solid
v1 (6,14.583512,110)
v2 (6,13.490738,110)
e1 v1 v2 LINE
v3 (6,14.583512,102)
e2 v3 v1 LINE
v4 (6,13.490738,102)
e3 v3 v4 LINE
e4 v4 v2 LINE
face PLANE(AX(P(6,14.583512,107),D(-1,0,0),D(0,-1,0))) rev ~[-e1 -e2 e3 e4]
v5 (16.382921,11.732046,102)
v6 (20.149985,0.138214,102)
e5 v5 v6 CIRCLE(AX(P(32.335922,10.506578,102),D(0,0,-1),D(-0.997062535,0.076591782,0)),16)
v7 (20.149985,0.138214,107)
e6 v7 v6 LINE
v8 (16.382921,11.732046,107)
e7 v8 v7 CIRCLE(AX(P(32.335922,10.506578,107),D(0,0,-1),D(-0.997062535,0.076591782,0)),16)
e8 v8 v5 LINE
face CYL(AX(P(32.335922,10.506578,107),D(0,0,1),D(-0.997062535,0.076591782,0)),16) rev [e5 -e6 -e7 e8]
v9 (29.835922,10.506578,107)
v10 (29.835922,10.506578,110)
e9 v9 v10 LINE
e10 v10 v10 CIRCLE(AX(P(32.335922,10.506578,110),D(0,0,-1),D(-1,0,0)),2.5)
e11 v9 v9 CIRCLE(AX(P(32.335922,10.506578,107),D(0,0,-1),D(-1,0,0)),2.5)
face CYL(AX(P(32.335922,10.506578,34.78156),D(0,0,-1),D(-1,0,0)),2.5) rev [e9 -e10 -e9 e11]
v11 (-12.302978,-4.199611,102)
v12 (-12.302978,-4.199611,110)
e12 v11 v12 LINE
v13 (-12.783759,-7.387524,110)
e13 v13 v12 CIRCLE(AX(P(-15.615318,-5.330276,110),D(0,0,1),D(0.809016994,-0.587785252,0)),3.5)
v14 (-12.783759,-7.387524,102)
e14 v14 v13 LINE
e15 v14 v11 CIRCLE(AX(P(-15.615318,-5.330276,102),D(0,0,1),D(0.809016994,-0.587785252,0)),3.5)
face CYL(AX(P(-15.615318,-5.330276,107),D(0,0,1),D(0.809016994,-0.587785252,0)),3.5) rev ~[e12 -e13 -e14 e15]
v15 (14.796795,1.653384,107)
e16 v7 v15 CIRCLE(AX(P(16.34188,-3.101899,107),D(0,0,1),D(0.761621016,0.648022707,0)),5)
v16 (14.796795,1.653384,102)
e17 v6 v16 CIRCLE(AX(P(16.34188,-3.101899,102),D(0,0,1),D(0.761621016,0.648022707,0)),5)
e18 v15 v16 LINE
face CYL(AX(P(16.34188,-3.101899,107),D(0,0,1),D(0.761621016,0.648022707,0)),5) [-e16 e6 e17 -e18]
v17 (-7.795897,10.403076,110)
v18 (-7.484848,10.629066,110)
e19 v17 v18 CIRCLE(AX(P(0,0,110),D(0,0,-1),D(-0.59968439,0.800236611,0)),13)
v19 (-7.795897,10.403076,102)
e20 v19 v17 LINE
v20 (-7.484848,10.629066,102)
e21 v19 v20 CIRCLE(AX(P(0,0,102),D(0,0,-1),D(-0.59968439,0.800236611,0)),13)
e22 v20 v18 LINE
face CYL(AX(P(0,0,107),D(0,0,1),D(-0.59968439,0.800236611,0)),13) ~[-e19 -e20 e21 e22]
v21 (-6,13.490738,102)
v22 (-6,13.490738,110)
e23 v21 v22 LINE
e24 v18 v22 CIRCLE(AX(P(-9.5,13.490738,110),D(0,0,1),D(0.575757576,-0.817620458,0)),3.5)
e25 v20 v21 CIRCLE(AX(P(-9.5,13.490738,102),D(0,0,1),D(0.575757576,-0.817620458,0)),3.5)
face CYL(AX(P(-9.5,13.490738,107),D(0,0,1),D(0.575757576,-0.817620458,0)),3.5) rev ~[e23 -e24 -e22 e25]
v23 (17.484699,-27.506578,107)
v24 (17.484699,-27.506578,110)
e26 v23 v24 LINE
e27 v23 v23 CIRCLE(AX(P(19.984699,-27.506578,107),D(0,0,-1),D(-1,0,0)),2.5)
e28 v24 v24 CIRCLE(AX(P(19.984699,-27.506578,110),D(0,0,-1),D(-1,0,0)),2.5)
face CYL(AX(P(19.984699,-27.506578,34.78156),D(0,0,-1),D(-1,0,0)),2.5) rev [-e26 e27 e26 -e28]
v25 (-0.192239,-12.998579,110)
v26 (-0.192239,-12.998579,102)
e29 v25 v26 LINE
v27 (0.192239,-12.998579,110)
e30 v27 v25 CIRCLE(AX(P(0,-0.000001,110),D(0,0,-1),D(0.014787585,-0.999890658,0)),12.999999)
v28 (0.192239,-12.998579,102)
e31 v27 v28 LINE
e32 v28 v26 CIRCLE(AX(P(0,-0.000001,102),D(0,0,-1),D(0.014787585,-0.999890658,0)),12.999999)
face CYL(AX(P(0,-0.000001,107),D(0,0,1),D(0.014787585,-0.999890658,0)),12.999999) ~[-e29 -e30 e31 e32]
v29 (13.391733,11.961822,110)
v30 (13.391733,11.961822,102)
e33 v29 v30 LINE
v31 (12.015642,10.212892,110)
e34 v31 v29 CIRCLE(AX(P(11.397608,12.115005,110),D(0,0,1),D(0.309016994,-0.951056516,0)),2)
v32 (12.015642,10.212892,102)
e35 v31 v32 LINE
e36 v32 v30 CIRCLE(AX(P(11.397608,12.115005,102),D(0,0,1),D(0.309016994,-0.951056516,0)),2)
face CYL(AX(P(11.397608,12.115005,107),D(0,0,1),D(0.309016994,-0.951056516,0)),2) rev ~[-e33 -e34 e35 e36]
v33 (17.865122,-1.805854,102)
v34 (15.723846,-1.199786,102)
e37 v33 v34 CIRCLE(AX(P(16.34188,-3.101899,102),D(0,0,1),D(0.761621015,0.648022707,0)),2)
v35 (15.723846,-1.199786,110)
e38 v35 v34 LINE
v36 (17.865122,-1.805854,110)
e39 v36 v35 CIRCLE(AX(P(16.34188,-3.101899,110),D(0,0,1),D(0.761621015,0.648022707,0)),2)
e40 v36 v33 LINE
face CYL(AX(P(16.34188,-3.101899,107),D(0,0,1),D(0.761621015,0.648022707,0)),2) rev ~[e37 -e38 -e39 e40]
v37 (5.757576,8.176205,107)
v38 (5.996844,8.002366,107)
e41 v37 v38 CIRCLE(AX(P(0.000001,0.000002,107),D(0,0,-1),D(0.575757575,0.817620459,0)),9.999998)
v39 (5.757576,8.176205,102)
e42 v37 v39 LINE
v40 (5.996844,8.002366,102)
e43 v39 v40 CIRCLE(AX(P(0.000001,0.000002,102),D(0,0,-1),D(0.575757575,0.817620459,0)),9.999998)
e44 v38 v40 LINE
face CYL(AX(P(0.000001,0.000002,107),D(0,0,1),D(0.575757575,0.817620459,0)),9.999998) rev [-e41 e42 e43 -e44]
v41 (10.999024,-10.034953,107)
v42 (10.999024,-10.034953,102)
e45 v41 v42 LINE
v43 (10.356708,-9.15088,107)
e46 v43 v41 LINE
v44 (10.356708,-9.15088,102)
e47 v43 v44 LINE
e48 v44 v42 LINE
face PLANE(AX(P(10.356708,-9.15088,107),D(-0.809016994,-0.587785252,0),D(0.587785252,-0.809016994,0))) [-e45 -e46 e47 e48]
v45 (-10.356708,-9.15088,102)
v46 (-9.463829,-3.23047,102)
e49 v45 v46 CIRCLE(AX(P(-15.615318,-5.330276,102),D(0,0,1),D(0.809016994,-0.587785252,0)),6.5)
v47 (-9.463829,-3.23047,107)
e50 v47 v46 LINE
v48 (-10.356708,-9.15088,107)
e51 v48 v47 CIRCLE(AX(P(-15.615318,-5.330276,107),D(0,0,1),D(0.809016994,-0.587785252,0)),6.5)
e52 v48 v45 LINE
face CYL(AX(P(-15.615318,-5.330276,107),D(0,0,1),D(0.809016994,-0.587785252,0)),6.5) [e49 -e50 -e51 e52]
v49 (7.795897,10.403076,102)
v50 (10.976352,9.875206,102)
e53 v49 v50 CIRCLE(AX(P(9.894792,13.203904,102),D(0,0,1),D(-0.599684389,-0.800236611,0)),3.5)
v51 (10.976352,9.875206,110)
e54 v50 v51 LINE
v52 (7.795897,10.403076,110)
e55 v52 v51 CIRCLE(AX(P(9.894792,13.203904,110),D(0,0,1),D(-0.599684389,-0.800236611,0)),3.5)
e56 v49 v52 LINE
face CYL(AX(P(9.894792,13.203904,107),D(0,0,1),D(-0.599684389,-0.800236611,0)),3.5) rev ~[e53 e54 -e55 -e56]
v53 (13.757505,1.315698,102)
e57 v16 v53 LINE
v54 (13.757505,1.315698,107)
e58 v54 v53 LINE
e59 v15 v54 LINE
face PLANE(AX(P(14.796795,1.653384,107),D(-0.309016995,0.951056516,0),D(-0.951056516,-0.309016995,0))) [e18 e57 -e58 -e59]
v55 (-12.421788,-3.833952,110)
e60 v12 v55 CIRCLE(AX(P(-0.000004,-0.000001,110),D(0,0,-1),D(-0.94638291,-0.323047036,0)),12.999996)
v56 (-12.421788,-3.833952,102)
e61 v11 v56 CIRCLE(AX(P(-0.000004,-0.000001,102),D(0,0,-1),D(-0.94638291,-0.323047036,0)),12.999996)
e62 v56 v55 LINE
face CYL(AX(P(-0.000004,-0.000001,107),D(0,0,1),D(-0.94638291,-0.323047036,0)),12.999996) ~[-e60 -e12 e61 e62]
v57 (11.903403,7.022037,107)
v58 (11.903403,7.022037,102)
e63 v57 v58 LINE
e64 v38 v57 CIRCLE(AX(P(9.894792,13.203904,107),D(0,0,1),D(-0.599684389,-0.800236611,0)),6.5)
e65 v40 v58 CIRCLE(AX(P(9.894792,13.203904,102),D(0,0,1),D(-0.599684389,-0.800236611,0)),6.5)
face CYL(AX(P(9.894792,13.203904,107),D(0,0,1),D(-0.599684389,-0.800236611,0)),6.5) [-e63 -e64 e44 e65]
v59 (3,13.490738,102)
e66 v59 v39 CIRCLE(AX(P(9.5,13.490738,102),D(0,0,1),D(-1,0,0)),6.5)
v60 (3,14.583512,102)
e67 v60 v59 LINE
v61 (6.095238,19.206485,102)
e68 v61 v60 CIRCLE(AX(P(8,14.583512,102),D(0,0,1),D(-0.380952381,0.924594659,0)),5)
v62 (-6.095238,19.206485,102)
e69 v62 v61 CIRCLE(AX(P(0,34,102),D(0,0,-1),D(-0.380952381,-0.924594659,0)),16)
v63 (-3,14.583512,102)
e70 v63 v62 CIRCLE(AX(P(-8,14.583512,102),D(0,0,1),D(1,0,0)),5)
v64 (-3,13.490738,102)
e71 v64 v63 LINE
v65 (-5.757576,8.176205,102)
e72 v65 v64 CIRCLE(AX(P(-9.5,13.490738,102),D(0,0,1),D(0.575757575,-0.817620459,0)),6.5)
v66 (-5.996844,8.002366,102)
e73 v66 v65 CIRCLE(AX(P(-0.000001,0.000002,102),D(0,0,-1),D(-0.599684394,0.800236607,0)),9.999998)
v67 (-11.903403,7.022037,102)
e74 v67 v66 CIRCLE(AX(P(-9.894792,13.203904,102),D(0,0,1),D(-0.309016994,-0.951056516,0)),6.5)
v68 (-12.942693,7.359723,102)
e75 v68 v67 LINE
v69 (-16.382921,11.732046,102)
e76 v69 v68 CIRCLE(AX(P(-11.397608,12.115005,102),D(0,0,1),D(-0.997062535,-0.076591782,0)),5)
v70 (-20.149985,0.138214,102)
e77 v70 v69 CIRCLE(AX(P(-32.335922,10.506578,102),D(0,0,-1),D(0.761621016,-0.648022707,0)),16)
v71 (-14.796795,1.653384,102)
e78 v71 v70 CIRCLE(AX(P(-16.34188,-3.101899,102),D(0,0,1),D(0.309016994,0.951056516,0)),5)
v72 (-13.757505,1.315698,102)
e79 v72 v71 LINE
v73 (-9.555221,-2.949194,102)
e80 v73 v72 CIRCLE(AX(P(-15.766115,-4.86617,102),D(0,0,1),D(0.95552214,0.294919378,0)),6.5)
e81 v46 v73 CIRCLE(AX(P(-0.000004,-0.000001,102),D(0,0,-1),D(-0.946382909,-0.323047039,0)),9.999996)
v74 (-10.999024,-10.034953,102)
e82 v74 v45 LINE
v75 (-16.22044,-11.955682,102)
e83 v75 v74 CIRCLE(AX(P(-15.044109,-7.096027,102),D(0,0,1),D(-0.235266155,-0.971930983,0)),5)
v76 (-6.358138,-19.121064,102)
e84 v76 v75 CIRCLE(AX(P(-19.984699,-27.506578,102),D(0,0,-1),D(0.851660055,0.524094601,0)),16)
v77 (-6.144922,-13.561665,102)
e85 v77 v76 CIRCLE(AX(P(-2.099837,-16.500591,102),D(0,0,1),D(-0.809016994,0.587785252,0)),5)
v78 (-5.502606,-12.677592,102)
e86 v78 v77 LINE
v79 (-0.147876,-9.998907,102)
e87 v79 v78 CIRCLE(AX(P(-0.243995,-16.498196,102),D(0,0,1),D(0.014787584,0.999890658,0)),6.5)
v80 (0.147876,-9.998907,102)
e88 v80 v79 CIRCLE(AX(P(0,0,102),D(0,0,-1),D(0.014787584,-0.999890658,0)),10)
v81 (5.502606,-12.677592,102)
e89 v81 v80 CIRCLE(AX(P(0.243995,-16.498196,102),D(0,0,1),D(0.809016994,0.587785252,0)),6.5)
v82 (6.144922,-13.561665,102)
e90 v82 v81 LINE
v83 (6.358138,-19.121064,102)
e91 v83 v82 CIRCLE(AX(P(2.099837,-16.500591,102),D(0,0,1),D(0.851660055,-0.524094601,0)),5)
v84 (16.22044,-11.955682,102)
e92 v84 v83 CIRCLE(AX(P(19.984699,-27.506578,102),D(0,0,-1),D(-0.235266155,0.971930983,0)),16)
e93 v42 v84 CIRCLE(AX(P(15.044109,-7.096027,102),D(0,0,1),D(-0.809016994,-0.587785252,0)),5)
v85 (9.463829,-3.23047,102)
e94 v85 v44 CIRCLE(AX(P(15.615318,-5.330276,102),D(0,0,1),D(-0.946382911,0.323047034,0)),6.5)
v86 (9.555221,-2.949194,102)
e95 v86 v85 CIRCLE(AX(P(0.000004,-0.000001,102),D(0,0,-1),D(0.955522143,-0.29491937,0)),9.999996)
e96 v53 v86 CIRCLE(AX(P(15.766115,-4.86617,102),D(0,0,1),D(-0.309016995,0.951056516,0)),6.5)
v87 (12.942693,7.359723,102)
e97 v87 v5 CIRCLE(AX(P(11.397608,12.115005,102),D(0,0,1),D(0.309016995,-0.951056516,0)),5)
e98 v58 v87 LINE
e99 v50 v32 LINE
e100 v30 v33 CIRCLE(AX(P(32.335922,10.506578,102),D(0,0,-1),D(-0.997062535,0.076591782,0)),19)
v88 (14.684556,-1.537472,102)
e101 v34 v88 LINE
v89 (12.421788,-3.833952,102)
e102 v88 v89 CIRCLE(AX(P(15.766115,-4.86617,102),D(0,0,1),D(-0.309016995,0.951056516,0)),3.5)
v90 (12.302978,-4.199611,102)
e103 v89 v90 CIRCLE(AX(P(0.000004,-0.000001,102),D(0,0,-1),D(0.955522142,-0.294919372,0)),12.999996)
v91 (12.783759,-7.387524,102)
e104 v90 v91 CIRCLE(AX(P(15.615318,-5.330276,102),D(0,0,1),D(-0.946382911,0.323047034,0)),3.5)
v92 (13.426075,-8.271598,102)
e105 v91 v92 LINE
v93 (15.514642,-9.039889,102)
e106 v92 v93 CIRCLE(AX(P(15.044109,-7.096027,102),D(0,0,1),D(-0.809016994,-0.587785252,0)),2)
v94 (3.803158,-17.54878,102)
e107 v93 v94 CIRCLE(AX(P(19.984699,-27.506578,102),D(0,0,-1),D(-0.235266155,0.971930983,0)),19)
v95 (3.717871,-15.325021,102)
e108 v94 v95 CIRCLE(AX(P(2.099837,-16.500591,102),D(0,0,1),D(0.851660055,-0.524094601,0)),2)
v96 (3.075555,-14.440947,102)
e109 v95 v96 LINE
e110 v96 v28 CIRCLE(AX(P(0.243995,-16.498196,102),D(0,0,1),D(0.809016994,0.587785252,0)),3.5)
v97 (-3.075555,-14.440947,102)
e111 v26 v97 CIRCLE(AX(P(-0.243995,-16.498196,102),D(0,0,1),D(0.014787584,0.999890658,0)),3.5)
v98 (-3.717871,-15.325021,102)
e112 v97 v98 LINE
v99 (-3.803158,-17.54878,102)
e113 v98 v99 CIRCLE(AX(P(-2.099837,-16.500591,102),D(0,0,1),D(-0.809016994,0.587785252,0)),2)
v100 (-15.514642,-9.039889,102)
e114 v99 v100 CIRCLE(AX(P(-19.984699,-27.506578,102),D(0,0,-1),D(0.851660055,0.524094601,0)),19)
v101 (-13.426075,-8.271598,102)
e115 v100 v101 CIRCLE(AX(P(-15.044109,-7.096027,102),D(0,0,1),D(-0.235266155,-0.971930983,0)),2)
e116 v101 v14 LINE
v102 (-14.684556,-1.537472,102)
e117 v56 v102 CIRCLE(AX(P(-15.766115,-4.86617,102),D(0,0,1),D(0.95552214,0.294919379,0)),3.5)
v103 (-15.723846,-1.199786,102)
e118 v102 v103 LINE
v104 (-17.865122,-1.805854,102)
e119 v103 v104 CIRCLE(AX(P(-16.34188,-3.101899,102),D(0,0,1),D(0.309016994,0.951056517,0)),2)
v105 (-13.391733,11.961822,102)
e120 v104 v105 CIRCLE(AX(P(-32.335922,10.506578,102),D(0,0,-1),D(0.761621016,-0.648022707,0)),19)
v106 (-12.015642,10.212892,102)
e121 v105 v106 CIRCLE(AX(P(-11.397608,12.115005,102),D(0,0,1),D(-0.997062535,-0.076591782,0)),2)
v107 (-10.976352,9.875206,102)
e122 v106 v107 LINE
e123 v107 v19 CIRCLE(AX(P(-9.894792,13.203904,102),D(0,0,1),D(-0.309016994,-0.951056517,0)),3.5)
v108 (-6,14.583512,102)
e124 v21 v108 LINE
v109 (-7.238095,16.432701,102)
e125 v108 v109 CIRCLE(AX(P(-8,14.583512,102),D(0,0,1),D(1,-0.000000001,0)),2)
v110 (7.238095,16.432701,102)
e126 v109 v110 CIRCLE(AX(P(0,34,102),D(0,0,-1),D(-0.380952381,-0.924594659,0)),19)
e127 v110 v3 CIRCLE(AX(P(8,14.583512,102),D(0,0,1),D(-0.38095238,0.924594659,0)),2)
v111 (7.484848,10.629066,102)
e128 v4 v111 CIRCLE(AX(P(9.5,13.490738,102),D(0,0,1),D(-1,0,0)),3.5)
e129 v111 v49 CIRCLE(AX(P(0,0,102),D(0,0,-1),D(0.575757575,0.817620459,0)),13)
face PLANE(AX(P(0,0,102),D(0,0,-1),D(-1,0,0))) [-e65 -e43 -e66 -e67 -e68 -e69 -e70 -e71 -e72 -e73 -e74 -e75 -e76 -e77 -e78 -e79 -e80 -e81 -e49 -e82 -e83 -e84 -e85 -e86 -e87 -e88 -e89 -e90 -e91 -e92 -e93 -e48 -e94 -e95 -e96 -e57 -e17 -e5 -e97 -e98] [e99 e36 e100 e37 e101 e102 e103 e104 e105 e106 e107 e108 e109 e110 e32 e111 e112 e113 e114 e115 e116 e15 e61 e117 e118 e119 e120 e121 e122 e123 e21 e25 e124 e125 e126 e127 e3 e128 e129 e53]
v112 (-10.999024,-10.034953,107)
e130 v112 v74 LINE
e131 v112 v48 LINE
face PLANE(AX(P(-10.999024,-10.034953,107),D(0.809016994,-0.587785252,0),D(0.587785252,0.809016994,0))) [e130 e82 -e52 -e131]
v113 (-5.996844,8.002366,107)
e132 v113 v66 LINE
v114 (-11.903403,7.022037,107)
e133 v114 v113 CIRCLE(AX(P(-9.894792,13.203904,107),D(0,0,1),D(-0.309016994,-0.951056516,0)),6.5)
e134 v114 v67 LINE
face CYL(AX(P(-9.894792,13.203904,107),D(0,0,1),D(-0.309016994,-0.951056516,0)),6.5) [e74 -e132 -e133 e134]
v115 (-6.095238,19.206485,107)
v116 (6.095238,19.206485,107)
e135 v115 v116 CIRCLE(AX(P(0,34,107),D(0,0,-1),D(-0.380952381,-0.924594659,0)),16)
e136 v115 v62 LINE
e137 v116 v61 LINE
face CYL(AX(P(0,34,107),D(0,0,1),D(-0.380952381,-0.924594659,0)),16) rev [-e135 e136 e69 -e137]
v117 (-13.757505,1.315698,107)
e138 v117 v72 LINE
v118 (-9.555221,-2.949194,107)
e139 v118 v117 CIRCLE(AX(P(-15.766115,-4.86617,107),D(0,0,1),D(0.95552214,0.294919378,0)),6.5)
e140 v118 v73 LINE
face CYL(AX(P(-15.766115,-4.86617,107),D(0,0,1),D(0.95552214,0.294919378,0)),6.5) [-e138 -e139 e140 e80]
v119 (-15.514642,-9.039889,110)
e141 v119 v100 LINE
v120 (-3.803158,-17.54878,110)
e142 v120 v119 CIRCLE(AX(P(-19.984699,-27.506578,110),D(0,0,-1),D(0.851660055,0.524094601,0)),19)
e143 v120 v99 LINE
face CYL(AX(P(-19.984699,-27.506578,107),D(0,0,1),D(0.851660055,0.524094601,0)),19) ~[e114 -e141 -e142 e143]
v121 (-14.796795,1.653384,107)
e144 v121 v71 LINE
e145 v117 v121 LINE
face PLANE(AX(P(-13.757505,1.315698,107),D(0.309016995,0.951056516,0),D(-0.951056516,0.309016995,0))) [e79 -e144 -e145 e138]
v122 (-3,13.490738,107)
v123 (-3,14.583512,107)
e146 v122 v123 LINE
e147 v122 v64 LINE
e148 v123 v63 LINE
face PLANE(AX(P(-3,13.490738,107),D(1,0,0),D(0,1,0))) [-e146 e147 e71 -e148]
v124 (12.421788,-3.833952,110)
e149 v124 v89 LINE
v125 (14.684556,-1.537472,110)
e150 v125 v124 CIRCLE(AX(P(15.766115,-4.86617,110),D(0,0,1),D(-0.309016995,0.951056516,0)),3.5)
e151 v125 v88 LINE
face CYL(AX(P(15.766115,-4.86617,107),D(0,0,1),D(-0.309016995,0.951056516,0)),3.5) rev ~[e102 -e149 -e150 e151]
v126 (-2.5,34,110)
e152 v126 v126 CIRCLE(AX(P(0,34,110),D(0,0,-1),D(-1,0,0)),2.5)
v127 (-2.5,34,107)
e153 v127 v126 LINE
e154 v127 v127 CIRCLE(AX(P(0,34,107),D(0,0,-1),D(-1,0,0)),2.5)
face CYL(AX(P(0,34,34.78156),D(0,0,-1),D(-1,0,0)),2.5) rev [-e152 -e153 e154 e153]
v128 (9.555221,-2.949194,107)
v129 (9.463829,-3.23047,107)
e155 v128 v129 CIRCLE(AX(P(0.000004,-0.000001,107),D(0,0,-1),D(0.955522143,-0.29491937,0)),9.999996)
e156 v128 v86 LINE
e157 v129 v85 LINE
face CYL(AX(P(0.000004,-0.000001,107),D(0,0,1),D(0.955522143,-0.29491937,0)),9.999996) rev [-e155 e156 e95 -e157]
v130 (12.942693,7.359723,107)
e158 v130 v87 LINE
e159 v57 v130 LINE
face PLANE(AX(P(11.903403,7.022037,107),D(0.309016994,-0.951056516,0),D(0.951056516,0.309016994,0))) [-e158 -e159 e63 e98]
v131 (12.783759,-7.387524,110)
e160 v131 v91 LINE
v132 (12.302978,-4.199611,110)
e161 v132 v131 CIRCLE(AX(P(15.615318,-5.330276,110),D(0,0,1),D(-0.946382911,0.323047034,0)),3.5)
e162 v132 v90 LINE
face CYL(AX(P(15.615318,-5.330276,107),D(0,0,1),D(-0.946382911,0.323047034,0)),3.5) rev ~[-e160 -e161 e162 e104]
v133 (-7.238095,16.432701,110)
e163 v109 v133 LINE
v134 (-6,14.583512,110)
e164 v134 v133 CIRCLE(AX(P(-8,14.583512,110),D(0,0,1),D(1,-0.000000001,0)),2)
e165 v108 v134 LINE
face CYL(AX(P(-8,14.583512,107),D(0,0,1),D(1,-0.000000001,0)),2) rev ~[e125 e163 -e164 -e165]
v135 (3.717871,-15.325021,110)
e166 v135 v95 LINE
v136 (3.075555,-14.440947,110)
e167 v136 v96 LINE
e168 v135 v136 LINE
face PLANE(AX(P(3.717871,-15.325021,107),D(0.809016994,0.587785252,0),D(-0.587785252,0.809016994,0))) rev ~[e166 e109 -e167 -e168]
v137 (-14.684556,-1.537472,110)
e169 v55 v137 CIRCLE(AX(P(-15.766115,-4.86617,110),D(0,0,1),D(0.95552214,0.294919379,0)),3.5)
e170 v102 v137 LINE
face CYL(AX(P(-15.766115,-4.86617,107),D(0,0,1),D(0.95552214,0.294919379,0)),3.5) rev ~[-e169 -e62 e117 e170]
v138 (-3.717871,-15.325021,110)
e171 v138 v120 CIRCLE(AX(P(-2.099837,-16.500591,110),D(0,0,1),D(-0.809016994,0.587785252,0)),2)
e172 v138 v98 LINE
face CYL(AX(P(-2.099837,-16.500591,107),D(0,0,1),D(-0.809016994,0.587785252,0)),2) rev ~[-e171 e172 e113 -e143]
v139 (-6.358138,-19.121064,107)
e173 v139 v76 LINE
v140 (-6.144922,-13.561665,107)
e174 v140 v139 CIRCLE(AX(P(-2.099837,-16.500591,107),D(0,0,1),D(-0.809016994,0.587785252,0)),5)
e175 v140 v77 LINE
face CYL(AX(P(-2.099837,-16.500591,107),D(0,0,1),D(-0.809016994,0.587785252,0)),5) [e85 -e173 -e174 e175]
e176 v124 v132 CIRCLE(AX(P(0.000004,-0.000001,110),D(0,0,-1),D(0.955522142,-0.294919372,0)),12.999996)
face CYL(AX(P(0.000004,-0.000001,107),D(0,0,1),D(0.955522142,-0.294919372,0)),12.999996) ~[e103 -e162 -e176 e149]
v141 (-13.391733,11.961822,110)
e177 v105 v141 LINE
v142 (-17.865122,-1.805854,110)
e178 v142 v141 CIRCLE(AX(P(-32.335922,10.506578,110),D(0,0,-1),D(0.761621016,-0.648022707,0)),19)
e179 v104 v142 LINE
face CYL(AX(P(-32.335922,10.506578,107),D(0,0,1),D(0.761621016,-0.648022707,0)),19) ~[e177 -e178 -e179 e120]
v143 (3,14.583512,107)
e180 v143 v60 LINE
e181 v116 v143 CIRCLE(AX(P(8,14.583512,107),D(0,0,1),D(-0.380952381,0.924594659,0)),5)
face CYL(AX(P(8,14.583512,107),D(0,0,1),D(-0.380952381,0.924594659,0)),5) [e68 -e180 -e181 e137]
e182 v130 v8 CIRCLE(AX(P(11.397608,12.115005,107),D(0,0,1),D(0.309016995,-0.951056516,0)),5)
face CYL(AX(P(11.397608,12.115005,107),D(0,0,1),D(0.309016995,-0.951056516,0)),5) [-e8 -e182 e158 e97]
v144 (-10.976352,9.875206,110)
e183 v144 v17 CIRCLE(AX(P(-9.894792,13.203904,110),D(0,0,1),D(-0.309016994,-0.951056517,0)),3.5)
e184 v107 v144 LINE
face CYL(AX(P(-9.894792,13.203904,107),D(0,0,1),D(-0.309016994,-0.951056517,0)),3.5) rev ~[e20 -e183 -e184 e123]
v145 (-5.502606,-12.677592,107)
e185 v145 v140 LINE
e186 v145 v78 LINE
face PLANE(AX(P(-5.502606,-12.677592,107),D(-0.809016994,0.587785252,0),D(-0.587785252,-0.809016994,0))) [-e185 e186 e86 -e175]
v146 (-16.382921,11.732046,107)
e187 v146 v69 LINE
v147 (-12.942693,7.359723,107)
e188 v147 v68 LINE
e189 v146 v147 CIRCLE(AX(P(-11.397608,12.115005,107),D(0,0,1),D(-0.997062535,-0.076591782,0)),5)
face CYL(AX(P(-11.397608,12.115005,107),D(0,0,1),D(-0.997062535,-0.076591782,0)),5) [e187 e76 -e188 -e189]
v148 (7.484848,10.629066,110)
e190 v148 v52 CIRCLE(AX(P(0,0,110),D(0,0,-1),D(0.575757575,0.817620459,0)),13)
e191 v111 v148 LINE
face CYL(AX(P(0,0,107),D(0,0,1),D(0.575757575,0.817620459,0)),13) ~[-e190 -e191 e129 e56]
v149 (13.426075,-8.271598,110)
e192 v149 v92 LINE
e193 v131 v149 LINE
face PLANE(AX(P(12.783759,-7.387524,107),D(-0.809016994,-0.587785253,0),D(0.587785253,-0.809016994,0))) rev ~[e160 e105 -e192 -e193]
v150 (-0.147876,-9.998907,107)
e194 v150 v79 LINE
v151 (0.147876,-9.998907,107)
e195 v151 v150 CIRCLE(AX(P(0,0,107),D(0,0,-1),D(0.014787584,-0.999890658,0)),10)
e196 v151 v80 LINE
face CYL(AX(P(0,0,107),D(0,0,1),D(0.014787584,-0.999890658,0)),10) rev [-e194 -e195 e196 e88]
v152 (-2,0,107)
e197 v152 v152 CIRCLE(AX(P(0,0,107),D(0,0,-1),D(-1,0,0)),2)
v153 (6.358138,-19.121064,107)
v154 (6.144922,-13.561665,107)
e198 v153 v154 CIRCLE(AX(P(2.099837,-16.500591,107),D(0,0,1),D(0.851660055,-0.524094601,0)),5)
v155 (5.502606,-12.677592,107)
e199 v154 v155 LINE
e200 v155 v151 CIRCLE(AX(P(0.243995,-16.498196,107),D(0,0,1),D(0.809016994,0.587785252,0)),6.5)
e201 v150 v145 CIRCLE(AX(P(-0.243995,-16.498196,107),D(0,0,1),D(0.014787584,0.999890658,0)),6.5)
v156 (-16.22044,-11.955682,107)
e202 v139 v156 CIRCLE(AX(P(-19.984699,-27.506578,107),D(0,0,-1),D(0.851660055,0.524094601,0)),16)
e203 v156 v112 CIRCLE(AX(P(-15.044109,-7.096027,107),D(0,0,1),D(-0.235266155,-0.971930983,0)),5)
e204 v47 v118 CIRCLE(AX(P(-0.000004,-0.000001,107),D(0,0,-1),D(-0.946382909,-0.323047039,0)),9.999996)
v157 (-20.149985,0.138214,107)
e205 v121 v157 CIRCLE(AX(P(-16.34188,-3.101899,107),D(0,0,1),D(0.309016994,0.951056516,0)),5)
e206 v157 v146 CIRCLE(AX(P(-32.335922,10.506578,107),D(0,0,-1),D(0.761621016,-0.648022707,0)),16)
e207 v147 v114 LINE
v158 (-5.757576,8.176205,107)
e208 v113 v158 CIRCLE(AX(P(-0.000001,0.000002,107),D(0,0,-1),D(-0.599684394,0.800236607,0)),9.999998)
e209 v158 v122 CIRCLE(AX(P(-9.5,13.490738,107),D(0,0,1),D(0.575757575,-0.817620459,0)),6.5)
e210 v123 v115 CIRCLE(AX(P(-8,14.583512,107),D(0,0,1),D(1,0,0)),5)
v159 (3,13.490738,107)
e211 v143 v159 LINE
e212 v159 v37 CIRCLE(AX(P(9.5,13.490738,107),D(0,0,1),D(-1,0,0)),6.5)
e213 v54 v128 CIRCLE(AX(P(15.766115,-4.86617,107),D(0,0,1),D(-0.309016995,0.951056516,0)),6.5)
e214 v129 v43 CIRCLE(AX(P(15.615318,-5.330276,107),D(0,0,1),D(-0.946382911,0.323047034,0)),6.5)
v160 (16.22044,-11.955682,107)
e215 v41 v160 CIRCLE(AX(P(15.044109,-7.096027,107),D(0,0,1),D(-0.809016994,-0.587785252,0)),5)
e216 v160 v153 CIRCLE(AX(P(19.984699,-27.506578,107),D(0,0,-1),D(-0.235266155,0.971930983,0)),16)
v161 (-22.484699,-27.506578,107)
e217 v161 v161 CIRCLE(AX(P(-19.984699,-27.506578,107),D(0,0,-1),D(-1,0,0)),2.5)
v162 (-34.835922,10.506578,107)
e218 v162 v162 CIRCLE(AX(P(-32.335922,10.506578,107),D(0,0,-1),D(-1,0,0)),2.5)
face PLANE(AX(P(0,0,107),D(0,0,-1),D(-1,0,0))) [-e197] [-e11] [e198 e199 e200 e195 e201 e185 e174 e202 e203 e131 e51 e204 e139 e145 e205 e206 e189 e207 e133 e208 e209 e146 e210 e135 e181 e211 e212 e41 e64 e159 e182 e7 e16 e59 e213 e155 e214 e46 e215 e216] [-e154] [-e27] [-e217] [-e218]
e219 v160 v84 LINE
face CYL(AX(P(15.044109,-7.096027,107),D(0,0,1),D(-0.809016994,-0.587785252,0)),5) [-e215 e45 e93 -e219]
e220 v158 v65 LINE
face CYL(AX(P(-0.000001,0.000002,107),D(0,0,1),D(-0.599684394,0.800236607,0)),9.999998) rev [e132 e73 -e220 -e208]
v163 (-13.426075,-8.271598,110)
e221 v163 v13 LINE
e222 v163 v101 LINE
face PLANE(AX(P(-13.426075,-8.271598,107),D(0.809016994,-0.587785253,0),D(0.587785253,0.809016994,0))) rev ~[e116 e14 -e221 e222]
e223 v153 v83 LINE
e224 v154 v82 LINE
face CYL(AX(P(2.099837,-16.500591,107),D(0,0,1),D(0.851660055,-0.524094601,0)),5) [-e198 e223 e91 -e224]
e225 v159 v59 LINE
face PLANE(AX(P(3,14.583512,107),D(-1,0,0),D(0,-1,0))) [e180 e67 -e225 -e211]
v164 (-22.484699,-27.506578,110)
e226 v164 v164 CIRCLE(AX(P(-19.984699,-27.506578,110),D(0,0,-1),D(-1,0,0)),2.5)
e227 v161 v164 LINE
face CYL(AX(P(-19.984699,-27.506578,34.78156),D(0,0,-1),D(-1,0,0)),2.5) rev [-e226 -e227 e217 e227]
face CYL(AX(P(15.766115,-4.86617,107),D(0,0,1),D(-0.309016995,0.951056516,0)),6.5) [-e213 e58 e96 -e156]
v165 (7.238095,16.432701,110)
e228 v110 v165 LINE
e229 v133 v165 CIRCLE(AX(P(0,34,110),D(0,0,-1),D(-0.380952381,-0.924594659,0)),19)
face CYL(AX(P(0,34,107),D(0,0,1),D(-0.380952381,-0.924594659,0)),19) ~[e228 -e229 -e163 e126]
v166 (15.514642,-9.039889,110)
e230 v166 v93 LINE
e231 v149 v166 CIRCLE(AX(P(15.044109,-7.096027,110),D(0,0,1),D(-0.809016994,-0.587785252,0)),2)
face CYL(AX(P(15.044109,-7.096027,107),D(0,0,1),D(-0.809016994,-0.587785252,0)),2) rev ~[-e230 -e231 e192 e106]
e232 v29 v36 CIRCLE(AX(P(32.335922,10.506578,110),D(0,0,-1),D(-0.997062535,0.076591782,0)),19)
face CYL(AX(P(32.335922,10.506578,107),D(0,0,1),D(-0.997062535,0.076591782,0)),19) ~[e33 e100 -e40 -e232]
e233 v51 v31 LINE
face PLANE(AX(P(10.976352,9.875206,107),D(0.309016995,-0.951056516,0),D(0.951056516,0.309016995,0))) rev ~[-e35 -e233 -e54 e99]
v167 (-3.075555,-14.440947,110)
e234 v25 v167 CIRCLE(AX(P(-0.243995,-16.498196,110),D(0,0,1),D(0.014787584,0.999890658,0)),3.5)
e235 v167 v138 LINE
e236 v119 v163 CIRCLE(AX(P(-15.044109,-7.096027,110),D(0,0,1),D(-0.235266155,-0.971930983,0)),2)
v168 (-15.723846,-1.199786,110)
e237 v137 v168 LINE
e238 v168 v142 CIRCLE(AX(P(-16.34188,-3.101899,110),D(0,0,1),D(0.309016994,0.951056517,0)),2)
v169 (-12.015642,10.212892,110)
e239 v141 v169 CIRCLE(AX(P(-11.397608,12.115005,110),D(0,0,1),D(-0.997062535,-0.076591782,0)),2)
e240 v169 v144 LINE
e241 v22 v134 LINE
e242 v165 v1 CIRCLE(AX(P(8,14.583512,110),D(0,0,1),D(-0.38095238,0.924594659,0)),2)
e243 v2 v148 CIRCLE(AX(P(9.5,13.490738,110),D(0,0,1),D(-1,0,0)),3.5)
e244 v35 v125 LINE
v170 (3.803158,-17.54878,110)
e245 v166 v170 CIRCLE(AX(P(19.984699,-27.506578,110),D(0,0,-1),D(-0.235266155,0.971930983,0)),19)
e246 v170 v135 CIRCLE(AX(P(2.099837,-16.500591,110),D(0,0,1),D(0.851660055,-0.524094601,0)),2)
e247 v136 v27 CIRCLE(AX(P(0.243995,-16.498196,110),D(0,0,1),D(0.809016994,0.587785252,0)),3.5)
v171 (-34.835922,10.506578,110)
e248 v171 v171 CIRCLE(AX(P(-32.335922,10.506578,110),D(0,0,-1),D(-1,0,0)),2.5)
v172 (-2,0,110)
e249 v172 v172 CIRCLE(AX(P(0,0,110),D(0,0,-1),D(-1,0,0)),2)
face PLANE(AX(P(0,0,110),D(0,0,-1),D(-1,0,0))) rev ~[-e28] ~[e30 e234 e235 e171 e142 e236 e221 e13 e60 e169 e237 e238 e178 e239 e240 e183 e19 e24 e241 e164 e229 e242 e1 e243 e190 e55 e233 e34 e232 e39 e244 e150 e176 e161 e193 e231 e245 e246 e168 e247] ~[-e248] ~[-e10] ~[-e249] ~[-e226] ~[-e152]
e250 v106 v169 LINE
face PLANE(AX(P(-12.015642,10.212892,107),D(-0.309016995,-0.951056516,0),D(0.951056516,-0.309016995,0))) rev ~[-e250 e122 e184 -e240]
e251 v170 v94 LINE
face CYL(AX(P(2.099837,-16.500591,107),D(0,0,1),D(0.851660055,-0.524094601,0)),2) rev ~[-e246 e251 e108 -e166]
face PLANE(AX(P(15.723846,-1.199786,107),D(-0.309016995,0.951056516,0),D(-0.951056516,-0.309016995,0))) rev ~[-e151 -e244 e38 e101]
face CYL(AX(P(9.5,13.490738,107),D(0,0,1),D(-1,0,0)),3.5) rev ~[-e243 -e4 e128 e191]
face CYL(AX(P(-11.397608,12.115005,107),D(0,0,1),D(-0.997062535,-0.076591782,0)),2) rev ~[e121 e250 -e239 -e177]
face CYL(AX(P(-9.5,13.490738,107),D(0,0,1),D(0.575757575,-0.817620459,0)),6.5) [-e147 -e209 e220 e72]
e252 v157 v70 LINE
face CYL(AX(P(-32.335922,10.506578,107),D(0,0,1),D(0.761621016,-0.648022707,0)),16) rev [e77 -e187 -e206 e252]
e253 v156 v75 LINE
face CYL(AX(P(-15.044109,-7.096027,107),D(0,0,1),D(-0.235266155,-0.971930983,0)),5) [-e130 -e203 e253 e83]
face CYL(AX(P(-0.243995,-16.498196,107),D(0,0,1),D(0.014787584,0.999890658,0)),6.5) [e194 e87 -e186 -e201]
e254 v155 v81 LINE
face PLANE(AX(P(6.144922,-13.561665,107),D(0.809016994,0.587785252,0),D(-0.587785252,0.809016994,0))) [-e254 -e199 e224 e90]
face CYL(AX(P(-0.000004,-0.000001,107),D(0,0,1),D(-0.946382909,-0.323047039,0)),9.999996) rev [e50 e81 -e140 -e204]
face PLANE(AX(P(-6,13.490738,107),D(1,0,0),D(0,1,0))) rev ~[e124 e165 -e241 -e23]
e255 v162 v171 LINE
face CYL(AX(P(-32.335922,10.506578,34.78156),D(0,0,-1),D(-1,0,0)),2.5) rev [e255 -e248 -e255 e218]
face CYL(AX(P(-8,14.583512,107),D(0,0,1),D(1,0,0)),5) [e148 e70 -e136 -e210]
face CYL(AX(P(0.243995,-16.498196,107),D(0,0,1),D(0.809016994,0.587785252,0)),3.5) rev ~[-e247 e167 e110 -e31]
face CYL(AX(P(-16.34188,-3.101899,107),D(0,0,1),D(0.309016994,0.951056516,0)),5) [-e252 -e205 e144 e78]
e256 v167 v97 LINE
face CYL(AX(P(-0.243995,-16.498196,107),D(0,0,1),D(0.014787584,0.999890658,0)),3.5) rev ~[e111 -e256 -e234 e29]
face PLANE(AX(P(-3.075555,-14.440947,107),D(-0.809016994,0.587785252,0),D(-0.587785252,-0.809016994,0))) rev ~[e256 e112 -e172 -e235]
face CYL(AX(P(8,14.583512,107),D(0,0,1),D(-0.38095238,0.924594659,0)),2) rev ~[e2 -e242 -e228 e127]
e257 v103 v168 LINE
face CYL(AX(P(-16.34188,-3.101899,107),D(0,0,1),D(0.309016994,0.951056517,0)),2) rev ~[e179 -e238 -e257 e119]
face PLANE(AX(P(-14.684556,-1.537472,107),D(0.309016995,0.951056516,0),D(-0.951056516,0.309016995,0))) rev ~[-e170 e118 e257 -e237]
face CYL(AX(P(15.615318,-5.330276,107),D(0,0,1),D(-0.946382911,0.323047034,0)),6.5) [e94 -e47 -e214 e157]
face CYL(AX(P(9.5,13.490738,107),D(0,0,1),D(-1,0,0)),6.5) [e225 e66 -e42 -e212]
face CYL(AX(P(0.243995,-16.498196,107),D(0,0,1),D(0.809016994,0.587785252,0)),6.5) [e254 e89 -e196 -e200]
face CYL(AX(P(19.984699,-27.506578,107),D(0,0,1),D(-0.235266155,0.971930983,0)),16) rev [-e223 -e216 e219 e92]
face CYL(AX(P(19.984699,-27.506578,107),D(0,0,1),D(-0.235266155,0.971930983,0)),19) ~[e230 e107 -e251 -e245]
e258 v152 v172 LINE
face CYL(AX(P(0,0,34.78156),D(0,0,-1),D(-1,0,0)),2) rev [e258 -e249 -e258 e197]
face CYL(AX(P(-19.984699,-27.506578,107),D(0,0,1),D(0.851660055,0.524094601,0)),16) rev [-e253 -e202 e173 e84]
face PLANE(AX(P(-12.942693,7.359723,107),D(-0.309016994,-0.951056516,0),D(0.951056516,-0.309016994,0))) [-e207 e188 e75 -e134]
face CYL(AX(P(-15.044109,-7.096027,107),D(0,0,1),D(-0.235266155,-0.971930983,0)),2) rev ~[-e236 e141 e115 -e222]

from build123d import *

# Parameters (mm, degrees)
SKETCH1_R               = 13
BOSS_EXTRUDE1_DEPTH     = 120
CUT_EXTRUDE3_DEPTH      = 53
CUT_EXTRUDE3_DEPTH_BACK = 110
SKETCH2_2_R             = 55
BOSS_EXTRUDE3_DEPTH     = 3
CUT_EXTRUDE4_DEPTH      = 75.460572398
BOSS_EXTRUDE4_DEPTH     = 5
CUT_EXTRUDE5_DEPTH      = 75.218440039
CUT_EXTRUDE5_DEPTH_BACK = 75.218440039
SKETCH8_R               = 2
SKETCH8_R_2             = 2.5


with BuildPart() as part:
    # Sketch1 → Boss-Extrude1 (new body)
    with BuildSketch(Plane.XY):
        with BuildLine():
            Line((8.145449953, 5.801003797), (16.461844151, 8.503164074))
            ThreePointArc((16.461844151, 8.503164074), (47.552825815, 15.450849719), (18.315946117, 2.796824976))
            Line((18.315946117, 2.796824976), (9.99955192, 0.094664699))
            ThreePointArc((9.99955192, 0.094664699), (9.510565163, -3.090169944), (8.034164925, -5.954174499))
            Line((8.034164925, -5.954174499), (13.173979203, -13.028521945))
            ThreePointArc((13.173979203, -13.028521945), (29.389262615, -40.450849719), (8.319877236, -16.555233459))
            Line((8.319877236, -16.555233459), (3.180062959, -9.480886012))
            ThreePointArc((3.180062959, -9.480886012), (0, -10), (-3.180062959, -9.480886012))
            Line((-3.180062959, -9.480886012), (-8.319877236, -16.555233459))
            ThreePointArc((-8.319877236, -16.555233459), (-29.389262615, -40.450849719), (-13.173979203, -13.028521945))
            Line((-13.173979203, -13.028521945), (-8.034164925, -5.954174499))
            ThreePointArc((-8.034164925, -5.954174499), (-9.510565163, -3.090169944), (-9.99955192, 0.094664699))
            Line((-9.99955192, 0.094664699), (-18.315946117, 2.796824976))
            ThreePointArc((-18.315946117, 2.796824976), (-47.552825815, 15.450849719), (-16.461844151, 8.503164074))
            Line((-16.461844151, 8.503164074), (-8.145449953, 5.801003797))
            ThreePointArc((-8.145449953, 5.801003797), (-5.877852523, 8.090169944), (-3, 9.539392014))
            Line((-3, 9.539392014), (-3, 18.283766354))
            ThreePointArc((-3, 18.283766354), (0, 50), (3, 18.283766354))
            Line((3, 18.283766354), (3, 9.539392014))
            ThreePointArc((3, 9.539392014), (5.877852523, 8.090169944), (8.145449953, 5.801003797))
        make_face()
        with Locations((0, 34)):
            Circle(SKETCH1_R, mode=Mode.SUBTRACT)
        with Locations((32.335921554, 10.506577809)):
            Circle(SKETCH1_R, mode=Mode.SUBTRACT)
        with Locations((19.984698578, -27.506577809)):
            Circle(SKETCH1_R, mode=Mode.SUBTRACT)
        with Locations((-19.984698578, -27.506577809)):
            Circle(SKETCH1_R, mode=Mode.SUBTRACT)
        with Locations((-32.335921554, 10.506577809)):
            Circle(SKETCH1_R, mode=Mode.SUBTRACT)
    extrude(amount=BOSS_EXTRUDE1_DEPTH)

    # Sketch2<2> → Cut-Extrude3 (cut, two sides: drawn at the far end of the back side and taken through both)
    with BuildSketch(Plane(origin=(0, 0, 0), x_dir=(-1, 0, 0), z_dir=(0, 0, -1)).offset(-CUT_EXTRUDE3_DEPTH_BACK)):
        Circle(SKETCH2_2_R)
    extrude(amount=CUT_EXTRUDE3_DEPTH + CUT_EXTRUDE3_DEPTH_BACK, mode=Mode.SUBTRACT)

    # Sketch6 → Boss-Extrude3 (add)
    with BuildSketch(Plane(origin=(0, 0, 110), x_dir=(-1, 0, 0), z_dir=(0, 0, -1))):
        with BuildLine():
            Line((-15.723846237, -1.199786002), (-14.684555835, -1.537471924))
            ThreePointArc((-14.684555835, -1.537471924), (-13.273010033, -2.409662852), (-12.421787824, -3.833951909))
            ThreePointArc((-12.421787824, -3.833951909), (-12.363734712, -4.017220927), (-12.302977841, -4.19961144))
            ThreePointArc((-12.302977841, -4.19961144), (-12.15445497, -5.852221353), (-12.783758548, -7.387524442))
            Line((-12.783758548, -7.387524442), (-13.426075341, -8.271597662))
            ThreePointArc((-13.426075341, -8.271597662), (-14.353632706, -8.973057267), (-15.514641639, -9.039889124))
            ThreePointArc((-15.514641639, -9.039889124), (-31.152618372, -42.877900702), (-3.80315753, -17.548780396))
            ThreePointArc((-3.80315753, -17.548780396), (-4.098368148, -16.423943104), (-3.717871409, -15.32502069))
            Line((-3.717871409, -15.32502069), (-3.075554616, -14.440947469))
            ThreePointArc((-3.075554616, -14.440947469), (-1.809860109, -13.368009454), (-0.192238592, -12.99857855))
            ThreePointArc((-0.192238592, -12.99857855), (0, -13), (0.192238592, -12.99857855))
            ThreePointArc((0.192238592, -12.99857855), (1.809860109, -13.368009454), (3.075554616, -14.440947469))
            Line((3.075554616, -14.440947469), (3.717871409, -15.32502069))
            ThreePointArc((3.717871409, -15.32502069), (4.098368148, -16.423943104), (3.80315753, -17.548780396))
            ThreePointArc((3.80315753, -17.548780396), (31.152618372, -42.877900702), (15.514641639, -9.039889124))
            ThreePointArc((15.514641639, -9.039889124), (14.353632706, -8.973057267), (13.426075341, -8.271597662))
            Line((13.426075341, -8.271597662), (12.783758548, -7.387524442))
            ThreePointArc((12.783758548, -7.387524442), (12.15445497, -5.852221353), (12.302977841, -4.19961144))
            ThreePointArc((12.302977841, -4.19961144), (12.363734712, -4.017220927), (12.421787824, -3.833951909))
            ThreePointArc((12.421787824, -3.833951909), (13.273010033, -2.409662852), (14.684555835, -1.537471924))
            Line((14.684555835, -1.537471924), (15.723846237, -1.199786002))
            ThreePointArc((15.723846237, -1.199786002), (16.886563519, -1.177497801), (17.865122257, -1.805853621))
            ThreePointArc((17.865122257, -1.805853621), (50.405995364, 16.377900702), (13.391733387, 11.961821662))
            ThreePointArc((13.391733387, 11.961821662), (12.969401022, 10.87828873), (12.015642305, 10.212892193))
            Line((12.015642305, 10.212892193), (10.976351903, 9.875206271))
            ThreePointArc((10.976351903, 9.875206271), (9.321726396, 9.751137749), (7.79589706, 10.403075941))
            ThreePointArc((7.79589706, 10.403075941), (7.64120828, 10.517220927), (7.484848485, 10.629065959))
            ThreePointArc((7.484848485, 10.629065959), (6.393311224, 11.878755911), (6, 13.490737563))
            Line((6, 13.490737563), (6, 14.583512161))
            ThreePointArc((6, 14.583512161), (6.33810206, 15.696209442), (7.238095238, 16.432701479))
            ThreePointArc((7.238095238, 16.432701479), (0, 53), (-7.238095238, 16.432701479))
            ThreePointArc((-7.238095238, 16.432701479), (-6.33810206, 15.696209442), (-6, 14.583512161))
            Line((-6, 14.583512161), (-6, 13.490737563))
            ThreePointArc((-6, 13.490737563), (-6.393311224, 11.878755911), (-7.484848485, 10.629065959))
            ThreePointArc((-7.484848485, 10.629065959), (-7.64120828, 10.517220927), (-7.79589706, 10.403075941))
            ThreePointArc((-7.79589706, 10.403075941), (-9.321726396, 9.751137749), (-10.976351903, 9.875206271))
            Line((-10.976351903, 9.875206271), (-12.015642305, 10.212892193))
            ThreePointArc((-12.015642305, 10.212892193), (-12.969401022, 10.87828873), (-13.391733387, 11.961821662))
            ThreePointArc((-13.391733387, 11.961821662), (-50.405995364, 16.377900702), (-17.865122257, -1.805853621))
            ThreePointArc((-17.865122257, -1.805853621), (-16.886563519, -1.177497801), (-15.723846237, -1.199786002))
        make_face()
    extrude(amount=BOSS_EXTRUDE3_DEPTH)

    # Sketch6<2> → Cut-Extrude4 (cut, through all)
    with BuildSketch(Plane(origin=(0, 0, 110), x_dir=(-1, 0, 0), z_dir=(0, 0, -1))):
        with BuildLine():
            Line((-15.723846237, -1.199786002), (-14.684555835, -1.537471924))
            ThreePointArc((-14.684555835, -1.537471924), (-13.273010033, -2.409662852), (-12.421787824, -3.833951909))
            ThreePointArc((-12.421787824, -3.833951909), (-12.363734712, -4.017220927), (-12.302977841, -4.19961144))
            ThreePointArc((-12.302977841, -4.19961144), (-12.15445497, -5.852221353), (-12.783758548, -7.387524442))
            Line((-12.783758548, -7.387524442), (-13.426075341, -8.271597662))
            ThreePointArc((-13.426075341, -8.271597662), (-14.353632706, -8.973057267), (-15.514641639, -9.039889124))
            ThreePointArc((-15.514641639, -9.039889124), (-31.152618372, -42.877900702), (-3.80315753, -17.548780396))
            ThreePointArc((-3.80315753, -17.548780396), (-4.098368148, -16.423943104), (-3.717871409, -15.32502069))
            Line((-3.717871409, -15.32502069), (-3.075554616, -14.440947469))
            ThreePointArc((-3.075554616, -14.440947469), (-1.809860109, -13.368009454), (-0.192238592, -12.99857855))
            ThreePointArc((-0.192238592, -12.99857855), (0, -13), (0.192238592, -12.99857855))
            ThreePointArc((0.192238592, -12.99857855), (1.809860109, -13.368009454), (3.075554616, -14.440947469))
            Line((3.075554616, -14.440947469), (3.717871409, -15.32502069))
            ThreePointArc((3.717871409, -15.32502069), (4.098368148, -16.423943104), (3.80315753, -17.548780396))
            ThreePointArc((3.80315753, -17.548780396), (31.152618372, -42.877900702), (15.514641639, -9.039889124))
            ThreePointArc((15.514641639, -9.039889124), (14.353632706, -8.973057267), (13.426075341, -8.271597662))
            Line((13.426075341, -8.271597662), (12.783758548, -7.387524442))
            ThreePointArc((12.783758548, -7.387524442), (12.15445497, -5.852221353), (12.302977841, -4.19961144))
            ThreePointArc((12.302977841, -4.19961144), (12.363734712, -4.017220927), (12.421787824, -3.833951909))
            ThreePointArc((12.421787824, -3.833951909), (13.273010033, -2.409662852), (14.684555835, -1.537471924))
            Line((14.684555835, -1.537471924), (15.723846237, -1.199786002))
            ThreePointArc((15.723846237, -1.199786002), (16.886563519, -1.177497801), (17.865122257, -1.805853621))
            ThreePointArc((17.865122257, -1.805853621), (50.405995364, 16.377900702), (13.391733387, 11.961821662))
            ThreePointArc((13.391733387, 11.961821662), (12.969401022, 10.87828873), (12.015642305, 10.212892193))
            Line((12.015642305, 10.212892193), (10.976351903, 9.875206271))
            ThreePointArc((10.976351903, 9.875206271), (9.321726396, 9.751137749), (7.79589706, 10.403075941))
            ThreePointArc((7.79589706, 10.403075941), (7.64120828, 10.517220927), (7.484848485, 10.629065959))
            ThreePointArc((7.484848485, 10.629065959), (6.393311224, 11.878755911), (6, 13.490737563))
            Line((6, 13.490737563), (6, 14.583512161))
            ThreePointArc((6, 14.583512161), (6.33810206, 15.696209442), (7.238095238, 16.432701479))
            ThreePointArc((7.238095238, 16.432701479), (0, 53), (-7.238095238, 16.432701479))
            ThreePointArc((-7.238095238, 16.432701479), (-6.33810206, 15.696209442), (-6, 14.583512161))
            Line((-6, 14.583512161), (-6, 13.490737563))
            ThreePointArc((-6, 13.490737563), (-6.393311224, 11.878755911), (-7.484848485, 10.629065959))
            ThreePointArc((-7.484848485, 10.629065959), (-7.64120828, 10.517220927), (-7.79589706, 10.403075941))
            ThreePointArc((-7.79589706, 10.403075941), (-9.321726396, 9.751137749), (-10.976351903, 9.875206271))
            Line((-10.976351903, 9.875206271), (-12.015642305, 10.212892193))
            ThreePointArc((-12.015642305, 10.212892193), (-12.969401022, 10.87828873), (-13.391733387, 11.961821662))
            ThreePointArc((-13.391733387, 11.961821662), (-50.405995364, 16.377900702), (-17.865122257, -1.805853621))
            ThreePointArc((-17.865122257, -1.805853621), (-16.886563519, -1.177497801), (-15.723846237, -1.199786002))
        make_face()
    extrude(amount=-CUT_EXTRUDE4_DEPTH, mode=Mode.SUBTRACT)

    # Sketch7 → Boss-Extrude4 (add)
    with BuildSketch(Plane(origin=(0, 0, 107), x_dir=(-1, 0, 0), z_dir=(0, 0, -1))):
        with BuildLine():
            Line((-10.976351903, 9.875206271), (-12.015642305, 10.212892193))
            ThreePointArc((-12.015642305, 10.212892193), (-12.969401022, 10.87828873), (-13.391733387, 11.961821662))
            ThreePointArc((-13.391733387, 11.961821662), (-50.405995364, 16.377900702), (-17.865122257, -1.805853621))
            ThreePointArc((-17.865122257, -1.805853621), (-16.886563519, -1.177497801), (-15.723846237, -1.199786002))
            Line((-15.723846237, -1.199786002), (-14.684555835, -1.537471924))
            ThreePointArc((-14.684555835, -1.537471924), (-13.273010033, -2.409662852), (-12.421787824, -3.833951909))
            ThreePointArc((-12.421787824, -3.833951909), (-12.363734712, -4.017220927), (-12.302977841, -4.19961144))
            ThreePointArc((-12.302977841, -4.19961144), (-12.15445497, -5.852221353), (-12.783758548, -7.387524442))
            Line((-12.783758548, -7.387524442), (-13.426075341, -8.271597662))
            ThreePointArc((-13.426075341, -8.271597662), (-14.353632706, -8.973057267), (-15.514641639, -9.039889124))
            ThreePointArc((-15.514641639, -9.039889124), (-31.152618372, -42.877900702), (-3.80315753, -17.548780396))
            ThreePointArc((-3.80315753, -17.548780396), (-4.098368148, -16.423943104), (-3.717871409, -15.32502069))
            Line((-3.717871409, -15.32502069), (-3.075554616, -14.440947469))
            ThreePointArc((-3.075554616, -14.440947469), (-1.809860109, -13.368009454), (-0.192238592, -12.99857855))
            ThreePointArc((-0.192238592, -12.99857855), (0, -13), (0.192238592, -12.99857855))
            ThreePointArc((0.192238592, -12.99857855), (1.809860109, -13.368009454), (3.075554616, -14.440947469))
            Line((3.075554616, -14.440947469), (3.717871409, -15.32502069))
            ThreePointArc((3.717871409, -15.32502069), (4.098368148, -16.423943104), (3.80315753, -17.548780396))
            ThreePointArc((3.80315753, -17.548780396), (31.152618372, -42.877900702), (15.514641639, -9.039889124))
            ThreePointArc((15.514641639, -9.039889124), (14.353632706, -8.973057267), (13.426075341, -8.271597662))
            Line((13.426075341, -8.271597662), (12.783758548, -7.387524442))
            ThreePointArc((12.783758548, -7.387524442), (12.15445497, -5.852221353), (12.302977841, -4.19961144))
            ThreePointArc((12.302977841, -4.19961144), (12.363734712, -4.017220927), (12.421787824, -3.833951909))
            ThreePointArc((12.421787824, -3.833951909), (13.273010033, -2.409662852), (14.684555835, -1.537471924))
            Line((14.684555835, -1.537471924), (15.723846237, -1.199786002))
            ThreePointArc((15.723846237, -1.199786002), (16.886563519, -1.177497801), (17.865122257, -1.805853621))
            ThreePointArc((17.865122257, -1.805853621), (50.405995364, 16.377900702), (13.391733387, 11.961821662))
            ThreePointArc((13.391733387, 11.961821662), (12.969401022, 10.87828873), (12.015642305, 10.212892193))
            Line((12.015642305, 10.212892193), (10.976351903, 9.875206271))
            ThreePointArc((10.976351903, 9.875206271), (9.321726396, 9.751137749), (7.79589706, 10.403075941))
            ThreePointArc((7.79589706, 10.403075941), (7.64120828, 10.517220927), (7.484848485, 10.629065959))
            ThreePointArc((7.484848485, 10.629065959), (6.393311224, 11.878755911), (6, 13.490737563))
            Line((6, 13.490737563), (6, 14.583512161))
            ThreePointArc((6, 14.583512161), (6.33810206, 15.696209442), (7.238095238, 16.432701479))
            ThreePointArc((7.238095238, 16.432701479), (0, 53), (-7.238095238, 16.432701479))
            ThreePointArc((-7.238095238, 16.432701479), (-6.33810206, 15.696209442), (-6, 14.583512161))
            Line((-6, 14.583512161), (-6, 13.490737563))
            ThreePointArc((-6, 13.490737563), (-6.393311224, 11.878755911), (-7.484848485, 10.629065959))
            ThreePointArc((-7.484848485, 10.629065959), (-7.64120828, 10.517220927), (-7.79589706, 10.403075941))
            ThreePointArc((-7.79589706, 10.403075941), (-9.321726396, 9.751137749), (-10.976351903, 9.875206271))
        make_face()
        with BuildLine():
            Line((-6.144922392, -13.561664933), (-5.502605599, -12.677591712))
            ThreePointArc((-5.502605599, -12.677591712), (-3.152030087, -10.684992542), (-0.14787584, -9.998906577))
            ThreePointArc((-0.14787584, -9.998906577), (0, -10), (0.14787584, -9.998906577))
            ThreePointArc((0.14787584, -9.998906577), (3.152030087, -10.684992542), (5.502605599, -12.677591712))
            Line((5.502605599, -12.677591712), (6.144922392, -13.561664933))
            ThreePointArc((6.144922392, -13.561664933), (7.09616424, -16.308970969), (6.358137696, -19.121064198))
            ThreePointArc((6.358137696, -19.121064198), (29.389262615, -40.450849719), (16.220440103, -11.955682075))
            ThreePointArc((16.220440103, -11.955682075), (13.317917769, -11.788602431), (10.999024358, -10.034953419))
            Line((10.999024358, -10.034953419), (10.356707565, -9.150880198))
            ThreePointArc((10.356707565, -9.150880198), (9.18800092, -6.299603034), (9.463829108, -3.230470339))
            ThreePointArc((9.463829108, -3.230470339), (9.510565163, -3.090169944), (9.555221403, -2.949193776))
            ThreePointArc((9.555221403, -2.949193776), (11.136062647, -0.304085527), (13.757504852, 1.315697625))
            Line((13.757504852, 1.315697625), (14.796795254, 1.653383547))
            ThreePointArc((14.796795254, 1.653383547), (17.703588459, 1.709104051), (20.149985304, 0.138214499))
            ThreePointArc((20.149985304, 0.138214499), (47.552825815, 15.450849719), (16.382920992, 11.732046317))
            ThreePointArc((16.382920992, 11.732046317), (15.32709008, 9.023213987), (12.942693288, 7.359722644))
            Line((12.942693288, 7.359722644), (11.903402886, 7.022036723))
            ThreePointArc((11.903402886, 7.022036723), (8.830526944, 6.791623752), (5.996843892, 8.002366108))
            ThreePointArc((5.996843892, 8.002366108), (5.877852523, 8.090169944), (5.757575758, 8.176204584))
            ThreePointArc((5.757575758, 8.176204584), (3.73043513, 10.497057351), (3, 13.490737563))
            Line((3, 13.490737563), (3, 14.583512161))
            ThreePointArc((3, 14.583512161), (3.845255151, 17.365255362), (6.095238095, 19.206485456))
            ThreePointArc((6.095238095, 19.206485456), (0, 50), (-6.095238095, 19.206485456))
            ThreePointArc((-6.095238095, 19.206485456), (-3.845255151, 17.365255362), (-3, 14.583512161))
            Line((-3, 14.583512161), (-3, 13.490737563))
            ThreePointArc((-3, 13.490737563), (-3.73043513, 10.497057351), (-5.757575758, 8.176204584))
            ThreePointArc((-5.757575758, 8.176204584), (-5.877852523, 8.090169944), (-5.996843892, 8.002366108))
            ThreePointArc((-5.996843892, 8.002366108), (-8.830526944, 6.791623752), (-11.903402886, 7.022036723))
            Line((-11.903402886, 7.022036723), (-12.942693288, 7.359722644))
            ThreePointArc((-12.942693288, 7.359722644), (-15.32709008, 9.023213987), (-16.382920992, 11.732046317))
            ThreePointArc((-16.382920992, 11.732046317), (-47.552825815, 15.450849719), (-20.149985304, 0.138214499))
            ThreePointArc((-20.149985304, 0.138214499), (-17.703588459, 1.709104051), (-14.796795254, 1.653383547))
            Line((-14.796795254, 1.653383547), (-13.757504852, 1.315697625))
            ThreePointArc((-13.757504852, 1.315697625), (-11.136062647, -0.304085527), (-9.555221403, -2.949193776))
            ThreePointArc((-9.555221403, -2.949193776), (-9.510565163, -3.090169944), (-9.463829108, -3.230470339))
            ThreePointArc((-9.463829108, -3.230470339), (-9.18800092, -6.299603034), (-10.356707565, -9.150880198))
            Line((-10.356707565, -9.150880198), (-10.999024358, -10.034953419))
            ThreePointArc((-10.999024358, -10.034953419), (-13.317917769, -11.788602431), (-16.220440103, -11.955682075))
            ThreePointArc((-16.220440103, -11.955682075), (-29.389262615, -40.450849719), (-6.358137696, -19.121064198))
            ThreePointArc((-6.358137696, -19.121064198), (-7.09616424, -16.308970969), (-6.144922392, -13.561664933))
        make_face(mode=Mode.SUBTRACT)
    extrude(amount=BOSS_EXTRUDE4_DEPTH)

    # Sketch8 → Cut-Extrude5 (cut, two sides: drawn at the far end of the back side and taken through both)
    with BuildSketch(Plane.XY.offset(110).offset(-CUT_EXTRUDE5_DEPTH_BACK)):
        Circle(SKETCH8_R)
        with Locations((0, 34)):
            Circle(SKETCH8_R_2)
        with Locations((32.335921554, 10.506577809)):
            Circle(SKETCH8_R_2)
        with Locations((19.984698578, -27.506577809)):
            Circle(SKETCH8_R_2)
        with Locations((-19.984698578, -27.506577809)):
            Circle(SKETCH8_R_2)
        with Locations((-32.335921554, 10.506577809)):
            Circle(SKETCH8_R_2)
    extrude(amount=CUT_EXTRUDE5_DEPTH + CUT_EXTRUDE5_DEPTH_BACK, mode=Mode.SUBTRACT)


solid = part.part
